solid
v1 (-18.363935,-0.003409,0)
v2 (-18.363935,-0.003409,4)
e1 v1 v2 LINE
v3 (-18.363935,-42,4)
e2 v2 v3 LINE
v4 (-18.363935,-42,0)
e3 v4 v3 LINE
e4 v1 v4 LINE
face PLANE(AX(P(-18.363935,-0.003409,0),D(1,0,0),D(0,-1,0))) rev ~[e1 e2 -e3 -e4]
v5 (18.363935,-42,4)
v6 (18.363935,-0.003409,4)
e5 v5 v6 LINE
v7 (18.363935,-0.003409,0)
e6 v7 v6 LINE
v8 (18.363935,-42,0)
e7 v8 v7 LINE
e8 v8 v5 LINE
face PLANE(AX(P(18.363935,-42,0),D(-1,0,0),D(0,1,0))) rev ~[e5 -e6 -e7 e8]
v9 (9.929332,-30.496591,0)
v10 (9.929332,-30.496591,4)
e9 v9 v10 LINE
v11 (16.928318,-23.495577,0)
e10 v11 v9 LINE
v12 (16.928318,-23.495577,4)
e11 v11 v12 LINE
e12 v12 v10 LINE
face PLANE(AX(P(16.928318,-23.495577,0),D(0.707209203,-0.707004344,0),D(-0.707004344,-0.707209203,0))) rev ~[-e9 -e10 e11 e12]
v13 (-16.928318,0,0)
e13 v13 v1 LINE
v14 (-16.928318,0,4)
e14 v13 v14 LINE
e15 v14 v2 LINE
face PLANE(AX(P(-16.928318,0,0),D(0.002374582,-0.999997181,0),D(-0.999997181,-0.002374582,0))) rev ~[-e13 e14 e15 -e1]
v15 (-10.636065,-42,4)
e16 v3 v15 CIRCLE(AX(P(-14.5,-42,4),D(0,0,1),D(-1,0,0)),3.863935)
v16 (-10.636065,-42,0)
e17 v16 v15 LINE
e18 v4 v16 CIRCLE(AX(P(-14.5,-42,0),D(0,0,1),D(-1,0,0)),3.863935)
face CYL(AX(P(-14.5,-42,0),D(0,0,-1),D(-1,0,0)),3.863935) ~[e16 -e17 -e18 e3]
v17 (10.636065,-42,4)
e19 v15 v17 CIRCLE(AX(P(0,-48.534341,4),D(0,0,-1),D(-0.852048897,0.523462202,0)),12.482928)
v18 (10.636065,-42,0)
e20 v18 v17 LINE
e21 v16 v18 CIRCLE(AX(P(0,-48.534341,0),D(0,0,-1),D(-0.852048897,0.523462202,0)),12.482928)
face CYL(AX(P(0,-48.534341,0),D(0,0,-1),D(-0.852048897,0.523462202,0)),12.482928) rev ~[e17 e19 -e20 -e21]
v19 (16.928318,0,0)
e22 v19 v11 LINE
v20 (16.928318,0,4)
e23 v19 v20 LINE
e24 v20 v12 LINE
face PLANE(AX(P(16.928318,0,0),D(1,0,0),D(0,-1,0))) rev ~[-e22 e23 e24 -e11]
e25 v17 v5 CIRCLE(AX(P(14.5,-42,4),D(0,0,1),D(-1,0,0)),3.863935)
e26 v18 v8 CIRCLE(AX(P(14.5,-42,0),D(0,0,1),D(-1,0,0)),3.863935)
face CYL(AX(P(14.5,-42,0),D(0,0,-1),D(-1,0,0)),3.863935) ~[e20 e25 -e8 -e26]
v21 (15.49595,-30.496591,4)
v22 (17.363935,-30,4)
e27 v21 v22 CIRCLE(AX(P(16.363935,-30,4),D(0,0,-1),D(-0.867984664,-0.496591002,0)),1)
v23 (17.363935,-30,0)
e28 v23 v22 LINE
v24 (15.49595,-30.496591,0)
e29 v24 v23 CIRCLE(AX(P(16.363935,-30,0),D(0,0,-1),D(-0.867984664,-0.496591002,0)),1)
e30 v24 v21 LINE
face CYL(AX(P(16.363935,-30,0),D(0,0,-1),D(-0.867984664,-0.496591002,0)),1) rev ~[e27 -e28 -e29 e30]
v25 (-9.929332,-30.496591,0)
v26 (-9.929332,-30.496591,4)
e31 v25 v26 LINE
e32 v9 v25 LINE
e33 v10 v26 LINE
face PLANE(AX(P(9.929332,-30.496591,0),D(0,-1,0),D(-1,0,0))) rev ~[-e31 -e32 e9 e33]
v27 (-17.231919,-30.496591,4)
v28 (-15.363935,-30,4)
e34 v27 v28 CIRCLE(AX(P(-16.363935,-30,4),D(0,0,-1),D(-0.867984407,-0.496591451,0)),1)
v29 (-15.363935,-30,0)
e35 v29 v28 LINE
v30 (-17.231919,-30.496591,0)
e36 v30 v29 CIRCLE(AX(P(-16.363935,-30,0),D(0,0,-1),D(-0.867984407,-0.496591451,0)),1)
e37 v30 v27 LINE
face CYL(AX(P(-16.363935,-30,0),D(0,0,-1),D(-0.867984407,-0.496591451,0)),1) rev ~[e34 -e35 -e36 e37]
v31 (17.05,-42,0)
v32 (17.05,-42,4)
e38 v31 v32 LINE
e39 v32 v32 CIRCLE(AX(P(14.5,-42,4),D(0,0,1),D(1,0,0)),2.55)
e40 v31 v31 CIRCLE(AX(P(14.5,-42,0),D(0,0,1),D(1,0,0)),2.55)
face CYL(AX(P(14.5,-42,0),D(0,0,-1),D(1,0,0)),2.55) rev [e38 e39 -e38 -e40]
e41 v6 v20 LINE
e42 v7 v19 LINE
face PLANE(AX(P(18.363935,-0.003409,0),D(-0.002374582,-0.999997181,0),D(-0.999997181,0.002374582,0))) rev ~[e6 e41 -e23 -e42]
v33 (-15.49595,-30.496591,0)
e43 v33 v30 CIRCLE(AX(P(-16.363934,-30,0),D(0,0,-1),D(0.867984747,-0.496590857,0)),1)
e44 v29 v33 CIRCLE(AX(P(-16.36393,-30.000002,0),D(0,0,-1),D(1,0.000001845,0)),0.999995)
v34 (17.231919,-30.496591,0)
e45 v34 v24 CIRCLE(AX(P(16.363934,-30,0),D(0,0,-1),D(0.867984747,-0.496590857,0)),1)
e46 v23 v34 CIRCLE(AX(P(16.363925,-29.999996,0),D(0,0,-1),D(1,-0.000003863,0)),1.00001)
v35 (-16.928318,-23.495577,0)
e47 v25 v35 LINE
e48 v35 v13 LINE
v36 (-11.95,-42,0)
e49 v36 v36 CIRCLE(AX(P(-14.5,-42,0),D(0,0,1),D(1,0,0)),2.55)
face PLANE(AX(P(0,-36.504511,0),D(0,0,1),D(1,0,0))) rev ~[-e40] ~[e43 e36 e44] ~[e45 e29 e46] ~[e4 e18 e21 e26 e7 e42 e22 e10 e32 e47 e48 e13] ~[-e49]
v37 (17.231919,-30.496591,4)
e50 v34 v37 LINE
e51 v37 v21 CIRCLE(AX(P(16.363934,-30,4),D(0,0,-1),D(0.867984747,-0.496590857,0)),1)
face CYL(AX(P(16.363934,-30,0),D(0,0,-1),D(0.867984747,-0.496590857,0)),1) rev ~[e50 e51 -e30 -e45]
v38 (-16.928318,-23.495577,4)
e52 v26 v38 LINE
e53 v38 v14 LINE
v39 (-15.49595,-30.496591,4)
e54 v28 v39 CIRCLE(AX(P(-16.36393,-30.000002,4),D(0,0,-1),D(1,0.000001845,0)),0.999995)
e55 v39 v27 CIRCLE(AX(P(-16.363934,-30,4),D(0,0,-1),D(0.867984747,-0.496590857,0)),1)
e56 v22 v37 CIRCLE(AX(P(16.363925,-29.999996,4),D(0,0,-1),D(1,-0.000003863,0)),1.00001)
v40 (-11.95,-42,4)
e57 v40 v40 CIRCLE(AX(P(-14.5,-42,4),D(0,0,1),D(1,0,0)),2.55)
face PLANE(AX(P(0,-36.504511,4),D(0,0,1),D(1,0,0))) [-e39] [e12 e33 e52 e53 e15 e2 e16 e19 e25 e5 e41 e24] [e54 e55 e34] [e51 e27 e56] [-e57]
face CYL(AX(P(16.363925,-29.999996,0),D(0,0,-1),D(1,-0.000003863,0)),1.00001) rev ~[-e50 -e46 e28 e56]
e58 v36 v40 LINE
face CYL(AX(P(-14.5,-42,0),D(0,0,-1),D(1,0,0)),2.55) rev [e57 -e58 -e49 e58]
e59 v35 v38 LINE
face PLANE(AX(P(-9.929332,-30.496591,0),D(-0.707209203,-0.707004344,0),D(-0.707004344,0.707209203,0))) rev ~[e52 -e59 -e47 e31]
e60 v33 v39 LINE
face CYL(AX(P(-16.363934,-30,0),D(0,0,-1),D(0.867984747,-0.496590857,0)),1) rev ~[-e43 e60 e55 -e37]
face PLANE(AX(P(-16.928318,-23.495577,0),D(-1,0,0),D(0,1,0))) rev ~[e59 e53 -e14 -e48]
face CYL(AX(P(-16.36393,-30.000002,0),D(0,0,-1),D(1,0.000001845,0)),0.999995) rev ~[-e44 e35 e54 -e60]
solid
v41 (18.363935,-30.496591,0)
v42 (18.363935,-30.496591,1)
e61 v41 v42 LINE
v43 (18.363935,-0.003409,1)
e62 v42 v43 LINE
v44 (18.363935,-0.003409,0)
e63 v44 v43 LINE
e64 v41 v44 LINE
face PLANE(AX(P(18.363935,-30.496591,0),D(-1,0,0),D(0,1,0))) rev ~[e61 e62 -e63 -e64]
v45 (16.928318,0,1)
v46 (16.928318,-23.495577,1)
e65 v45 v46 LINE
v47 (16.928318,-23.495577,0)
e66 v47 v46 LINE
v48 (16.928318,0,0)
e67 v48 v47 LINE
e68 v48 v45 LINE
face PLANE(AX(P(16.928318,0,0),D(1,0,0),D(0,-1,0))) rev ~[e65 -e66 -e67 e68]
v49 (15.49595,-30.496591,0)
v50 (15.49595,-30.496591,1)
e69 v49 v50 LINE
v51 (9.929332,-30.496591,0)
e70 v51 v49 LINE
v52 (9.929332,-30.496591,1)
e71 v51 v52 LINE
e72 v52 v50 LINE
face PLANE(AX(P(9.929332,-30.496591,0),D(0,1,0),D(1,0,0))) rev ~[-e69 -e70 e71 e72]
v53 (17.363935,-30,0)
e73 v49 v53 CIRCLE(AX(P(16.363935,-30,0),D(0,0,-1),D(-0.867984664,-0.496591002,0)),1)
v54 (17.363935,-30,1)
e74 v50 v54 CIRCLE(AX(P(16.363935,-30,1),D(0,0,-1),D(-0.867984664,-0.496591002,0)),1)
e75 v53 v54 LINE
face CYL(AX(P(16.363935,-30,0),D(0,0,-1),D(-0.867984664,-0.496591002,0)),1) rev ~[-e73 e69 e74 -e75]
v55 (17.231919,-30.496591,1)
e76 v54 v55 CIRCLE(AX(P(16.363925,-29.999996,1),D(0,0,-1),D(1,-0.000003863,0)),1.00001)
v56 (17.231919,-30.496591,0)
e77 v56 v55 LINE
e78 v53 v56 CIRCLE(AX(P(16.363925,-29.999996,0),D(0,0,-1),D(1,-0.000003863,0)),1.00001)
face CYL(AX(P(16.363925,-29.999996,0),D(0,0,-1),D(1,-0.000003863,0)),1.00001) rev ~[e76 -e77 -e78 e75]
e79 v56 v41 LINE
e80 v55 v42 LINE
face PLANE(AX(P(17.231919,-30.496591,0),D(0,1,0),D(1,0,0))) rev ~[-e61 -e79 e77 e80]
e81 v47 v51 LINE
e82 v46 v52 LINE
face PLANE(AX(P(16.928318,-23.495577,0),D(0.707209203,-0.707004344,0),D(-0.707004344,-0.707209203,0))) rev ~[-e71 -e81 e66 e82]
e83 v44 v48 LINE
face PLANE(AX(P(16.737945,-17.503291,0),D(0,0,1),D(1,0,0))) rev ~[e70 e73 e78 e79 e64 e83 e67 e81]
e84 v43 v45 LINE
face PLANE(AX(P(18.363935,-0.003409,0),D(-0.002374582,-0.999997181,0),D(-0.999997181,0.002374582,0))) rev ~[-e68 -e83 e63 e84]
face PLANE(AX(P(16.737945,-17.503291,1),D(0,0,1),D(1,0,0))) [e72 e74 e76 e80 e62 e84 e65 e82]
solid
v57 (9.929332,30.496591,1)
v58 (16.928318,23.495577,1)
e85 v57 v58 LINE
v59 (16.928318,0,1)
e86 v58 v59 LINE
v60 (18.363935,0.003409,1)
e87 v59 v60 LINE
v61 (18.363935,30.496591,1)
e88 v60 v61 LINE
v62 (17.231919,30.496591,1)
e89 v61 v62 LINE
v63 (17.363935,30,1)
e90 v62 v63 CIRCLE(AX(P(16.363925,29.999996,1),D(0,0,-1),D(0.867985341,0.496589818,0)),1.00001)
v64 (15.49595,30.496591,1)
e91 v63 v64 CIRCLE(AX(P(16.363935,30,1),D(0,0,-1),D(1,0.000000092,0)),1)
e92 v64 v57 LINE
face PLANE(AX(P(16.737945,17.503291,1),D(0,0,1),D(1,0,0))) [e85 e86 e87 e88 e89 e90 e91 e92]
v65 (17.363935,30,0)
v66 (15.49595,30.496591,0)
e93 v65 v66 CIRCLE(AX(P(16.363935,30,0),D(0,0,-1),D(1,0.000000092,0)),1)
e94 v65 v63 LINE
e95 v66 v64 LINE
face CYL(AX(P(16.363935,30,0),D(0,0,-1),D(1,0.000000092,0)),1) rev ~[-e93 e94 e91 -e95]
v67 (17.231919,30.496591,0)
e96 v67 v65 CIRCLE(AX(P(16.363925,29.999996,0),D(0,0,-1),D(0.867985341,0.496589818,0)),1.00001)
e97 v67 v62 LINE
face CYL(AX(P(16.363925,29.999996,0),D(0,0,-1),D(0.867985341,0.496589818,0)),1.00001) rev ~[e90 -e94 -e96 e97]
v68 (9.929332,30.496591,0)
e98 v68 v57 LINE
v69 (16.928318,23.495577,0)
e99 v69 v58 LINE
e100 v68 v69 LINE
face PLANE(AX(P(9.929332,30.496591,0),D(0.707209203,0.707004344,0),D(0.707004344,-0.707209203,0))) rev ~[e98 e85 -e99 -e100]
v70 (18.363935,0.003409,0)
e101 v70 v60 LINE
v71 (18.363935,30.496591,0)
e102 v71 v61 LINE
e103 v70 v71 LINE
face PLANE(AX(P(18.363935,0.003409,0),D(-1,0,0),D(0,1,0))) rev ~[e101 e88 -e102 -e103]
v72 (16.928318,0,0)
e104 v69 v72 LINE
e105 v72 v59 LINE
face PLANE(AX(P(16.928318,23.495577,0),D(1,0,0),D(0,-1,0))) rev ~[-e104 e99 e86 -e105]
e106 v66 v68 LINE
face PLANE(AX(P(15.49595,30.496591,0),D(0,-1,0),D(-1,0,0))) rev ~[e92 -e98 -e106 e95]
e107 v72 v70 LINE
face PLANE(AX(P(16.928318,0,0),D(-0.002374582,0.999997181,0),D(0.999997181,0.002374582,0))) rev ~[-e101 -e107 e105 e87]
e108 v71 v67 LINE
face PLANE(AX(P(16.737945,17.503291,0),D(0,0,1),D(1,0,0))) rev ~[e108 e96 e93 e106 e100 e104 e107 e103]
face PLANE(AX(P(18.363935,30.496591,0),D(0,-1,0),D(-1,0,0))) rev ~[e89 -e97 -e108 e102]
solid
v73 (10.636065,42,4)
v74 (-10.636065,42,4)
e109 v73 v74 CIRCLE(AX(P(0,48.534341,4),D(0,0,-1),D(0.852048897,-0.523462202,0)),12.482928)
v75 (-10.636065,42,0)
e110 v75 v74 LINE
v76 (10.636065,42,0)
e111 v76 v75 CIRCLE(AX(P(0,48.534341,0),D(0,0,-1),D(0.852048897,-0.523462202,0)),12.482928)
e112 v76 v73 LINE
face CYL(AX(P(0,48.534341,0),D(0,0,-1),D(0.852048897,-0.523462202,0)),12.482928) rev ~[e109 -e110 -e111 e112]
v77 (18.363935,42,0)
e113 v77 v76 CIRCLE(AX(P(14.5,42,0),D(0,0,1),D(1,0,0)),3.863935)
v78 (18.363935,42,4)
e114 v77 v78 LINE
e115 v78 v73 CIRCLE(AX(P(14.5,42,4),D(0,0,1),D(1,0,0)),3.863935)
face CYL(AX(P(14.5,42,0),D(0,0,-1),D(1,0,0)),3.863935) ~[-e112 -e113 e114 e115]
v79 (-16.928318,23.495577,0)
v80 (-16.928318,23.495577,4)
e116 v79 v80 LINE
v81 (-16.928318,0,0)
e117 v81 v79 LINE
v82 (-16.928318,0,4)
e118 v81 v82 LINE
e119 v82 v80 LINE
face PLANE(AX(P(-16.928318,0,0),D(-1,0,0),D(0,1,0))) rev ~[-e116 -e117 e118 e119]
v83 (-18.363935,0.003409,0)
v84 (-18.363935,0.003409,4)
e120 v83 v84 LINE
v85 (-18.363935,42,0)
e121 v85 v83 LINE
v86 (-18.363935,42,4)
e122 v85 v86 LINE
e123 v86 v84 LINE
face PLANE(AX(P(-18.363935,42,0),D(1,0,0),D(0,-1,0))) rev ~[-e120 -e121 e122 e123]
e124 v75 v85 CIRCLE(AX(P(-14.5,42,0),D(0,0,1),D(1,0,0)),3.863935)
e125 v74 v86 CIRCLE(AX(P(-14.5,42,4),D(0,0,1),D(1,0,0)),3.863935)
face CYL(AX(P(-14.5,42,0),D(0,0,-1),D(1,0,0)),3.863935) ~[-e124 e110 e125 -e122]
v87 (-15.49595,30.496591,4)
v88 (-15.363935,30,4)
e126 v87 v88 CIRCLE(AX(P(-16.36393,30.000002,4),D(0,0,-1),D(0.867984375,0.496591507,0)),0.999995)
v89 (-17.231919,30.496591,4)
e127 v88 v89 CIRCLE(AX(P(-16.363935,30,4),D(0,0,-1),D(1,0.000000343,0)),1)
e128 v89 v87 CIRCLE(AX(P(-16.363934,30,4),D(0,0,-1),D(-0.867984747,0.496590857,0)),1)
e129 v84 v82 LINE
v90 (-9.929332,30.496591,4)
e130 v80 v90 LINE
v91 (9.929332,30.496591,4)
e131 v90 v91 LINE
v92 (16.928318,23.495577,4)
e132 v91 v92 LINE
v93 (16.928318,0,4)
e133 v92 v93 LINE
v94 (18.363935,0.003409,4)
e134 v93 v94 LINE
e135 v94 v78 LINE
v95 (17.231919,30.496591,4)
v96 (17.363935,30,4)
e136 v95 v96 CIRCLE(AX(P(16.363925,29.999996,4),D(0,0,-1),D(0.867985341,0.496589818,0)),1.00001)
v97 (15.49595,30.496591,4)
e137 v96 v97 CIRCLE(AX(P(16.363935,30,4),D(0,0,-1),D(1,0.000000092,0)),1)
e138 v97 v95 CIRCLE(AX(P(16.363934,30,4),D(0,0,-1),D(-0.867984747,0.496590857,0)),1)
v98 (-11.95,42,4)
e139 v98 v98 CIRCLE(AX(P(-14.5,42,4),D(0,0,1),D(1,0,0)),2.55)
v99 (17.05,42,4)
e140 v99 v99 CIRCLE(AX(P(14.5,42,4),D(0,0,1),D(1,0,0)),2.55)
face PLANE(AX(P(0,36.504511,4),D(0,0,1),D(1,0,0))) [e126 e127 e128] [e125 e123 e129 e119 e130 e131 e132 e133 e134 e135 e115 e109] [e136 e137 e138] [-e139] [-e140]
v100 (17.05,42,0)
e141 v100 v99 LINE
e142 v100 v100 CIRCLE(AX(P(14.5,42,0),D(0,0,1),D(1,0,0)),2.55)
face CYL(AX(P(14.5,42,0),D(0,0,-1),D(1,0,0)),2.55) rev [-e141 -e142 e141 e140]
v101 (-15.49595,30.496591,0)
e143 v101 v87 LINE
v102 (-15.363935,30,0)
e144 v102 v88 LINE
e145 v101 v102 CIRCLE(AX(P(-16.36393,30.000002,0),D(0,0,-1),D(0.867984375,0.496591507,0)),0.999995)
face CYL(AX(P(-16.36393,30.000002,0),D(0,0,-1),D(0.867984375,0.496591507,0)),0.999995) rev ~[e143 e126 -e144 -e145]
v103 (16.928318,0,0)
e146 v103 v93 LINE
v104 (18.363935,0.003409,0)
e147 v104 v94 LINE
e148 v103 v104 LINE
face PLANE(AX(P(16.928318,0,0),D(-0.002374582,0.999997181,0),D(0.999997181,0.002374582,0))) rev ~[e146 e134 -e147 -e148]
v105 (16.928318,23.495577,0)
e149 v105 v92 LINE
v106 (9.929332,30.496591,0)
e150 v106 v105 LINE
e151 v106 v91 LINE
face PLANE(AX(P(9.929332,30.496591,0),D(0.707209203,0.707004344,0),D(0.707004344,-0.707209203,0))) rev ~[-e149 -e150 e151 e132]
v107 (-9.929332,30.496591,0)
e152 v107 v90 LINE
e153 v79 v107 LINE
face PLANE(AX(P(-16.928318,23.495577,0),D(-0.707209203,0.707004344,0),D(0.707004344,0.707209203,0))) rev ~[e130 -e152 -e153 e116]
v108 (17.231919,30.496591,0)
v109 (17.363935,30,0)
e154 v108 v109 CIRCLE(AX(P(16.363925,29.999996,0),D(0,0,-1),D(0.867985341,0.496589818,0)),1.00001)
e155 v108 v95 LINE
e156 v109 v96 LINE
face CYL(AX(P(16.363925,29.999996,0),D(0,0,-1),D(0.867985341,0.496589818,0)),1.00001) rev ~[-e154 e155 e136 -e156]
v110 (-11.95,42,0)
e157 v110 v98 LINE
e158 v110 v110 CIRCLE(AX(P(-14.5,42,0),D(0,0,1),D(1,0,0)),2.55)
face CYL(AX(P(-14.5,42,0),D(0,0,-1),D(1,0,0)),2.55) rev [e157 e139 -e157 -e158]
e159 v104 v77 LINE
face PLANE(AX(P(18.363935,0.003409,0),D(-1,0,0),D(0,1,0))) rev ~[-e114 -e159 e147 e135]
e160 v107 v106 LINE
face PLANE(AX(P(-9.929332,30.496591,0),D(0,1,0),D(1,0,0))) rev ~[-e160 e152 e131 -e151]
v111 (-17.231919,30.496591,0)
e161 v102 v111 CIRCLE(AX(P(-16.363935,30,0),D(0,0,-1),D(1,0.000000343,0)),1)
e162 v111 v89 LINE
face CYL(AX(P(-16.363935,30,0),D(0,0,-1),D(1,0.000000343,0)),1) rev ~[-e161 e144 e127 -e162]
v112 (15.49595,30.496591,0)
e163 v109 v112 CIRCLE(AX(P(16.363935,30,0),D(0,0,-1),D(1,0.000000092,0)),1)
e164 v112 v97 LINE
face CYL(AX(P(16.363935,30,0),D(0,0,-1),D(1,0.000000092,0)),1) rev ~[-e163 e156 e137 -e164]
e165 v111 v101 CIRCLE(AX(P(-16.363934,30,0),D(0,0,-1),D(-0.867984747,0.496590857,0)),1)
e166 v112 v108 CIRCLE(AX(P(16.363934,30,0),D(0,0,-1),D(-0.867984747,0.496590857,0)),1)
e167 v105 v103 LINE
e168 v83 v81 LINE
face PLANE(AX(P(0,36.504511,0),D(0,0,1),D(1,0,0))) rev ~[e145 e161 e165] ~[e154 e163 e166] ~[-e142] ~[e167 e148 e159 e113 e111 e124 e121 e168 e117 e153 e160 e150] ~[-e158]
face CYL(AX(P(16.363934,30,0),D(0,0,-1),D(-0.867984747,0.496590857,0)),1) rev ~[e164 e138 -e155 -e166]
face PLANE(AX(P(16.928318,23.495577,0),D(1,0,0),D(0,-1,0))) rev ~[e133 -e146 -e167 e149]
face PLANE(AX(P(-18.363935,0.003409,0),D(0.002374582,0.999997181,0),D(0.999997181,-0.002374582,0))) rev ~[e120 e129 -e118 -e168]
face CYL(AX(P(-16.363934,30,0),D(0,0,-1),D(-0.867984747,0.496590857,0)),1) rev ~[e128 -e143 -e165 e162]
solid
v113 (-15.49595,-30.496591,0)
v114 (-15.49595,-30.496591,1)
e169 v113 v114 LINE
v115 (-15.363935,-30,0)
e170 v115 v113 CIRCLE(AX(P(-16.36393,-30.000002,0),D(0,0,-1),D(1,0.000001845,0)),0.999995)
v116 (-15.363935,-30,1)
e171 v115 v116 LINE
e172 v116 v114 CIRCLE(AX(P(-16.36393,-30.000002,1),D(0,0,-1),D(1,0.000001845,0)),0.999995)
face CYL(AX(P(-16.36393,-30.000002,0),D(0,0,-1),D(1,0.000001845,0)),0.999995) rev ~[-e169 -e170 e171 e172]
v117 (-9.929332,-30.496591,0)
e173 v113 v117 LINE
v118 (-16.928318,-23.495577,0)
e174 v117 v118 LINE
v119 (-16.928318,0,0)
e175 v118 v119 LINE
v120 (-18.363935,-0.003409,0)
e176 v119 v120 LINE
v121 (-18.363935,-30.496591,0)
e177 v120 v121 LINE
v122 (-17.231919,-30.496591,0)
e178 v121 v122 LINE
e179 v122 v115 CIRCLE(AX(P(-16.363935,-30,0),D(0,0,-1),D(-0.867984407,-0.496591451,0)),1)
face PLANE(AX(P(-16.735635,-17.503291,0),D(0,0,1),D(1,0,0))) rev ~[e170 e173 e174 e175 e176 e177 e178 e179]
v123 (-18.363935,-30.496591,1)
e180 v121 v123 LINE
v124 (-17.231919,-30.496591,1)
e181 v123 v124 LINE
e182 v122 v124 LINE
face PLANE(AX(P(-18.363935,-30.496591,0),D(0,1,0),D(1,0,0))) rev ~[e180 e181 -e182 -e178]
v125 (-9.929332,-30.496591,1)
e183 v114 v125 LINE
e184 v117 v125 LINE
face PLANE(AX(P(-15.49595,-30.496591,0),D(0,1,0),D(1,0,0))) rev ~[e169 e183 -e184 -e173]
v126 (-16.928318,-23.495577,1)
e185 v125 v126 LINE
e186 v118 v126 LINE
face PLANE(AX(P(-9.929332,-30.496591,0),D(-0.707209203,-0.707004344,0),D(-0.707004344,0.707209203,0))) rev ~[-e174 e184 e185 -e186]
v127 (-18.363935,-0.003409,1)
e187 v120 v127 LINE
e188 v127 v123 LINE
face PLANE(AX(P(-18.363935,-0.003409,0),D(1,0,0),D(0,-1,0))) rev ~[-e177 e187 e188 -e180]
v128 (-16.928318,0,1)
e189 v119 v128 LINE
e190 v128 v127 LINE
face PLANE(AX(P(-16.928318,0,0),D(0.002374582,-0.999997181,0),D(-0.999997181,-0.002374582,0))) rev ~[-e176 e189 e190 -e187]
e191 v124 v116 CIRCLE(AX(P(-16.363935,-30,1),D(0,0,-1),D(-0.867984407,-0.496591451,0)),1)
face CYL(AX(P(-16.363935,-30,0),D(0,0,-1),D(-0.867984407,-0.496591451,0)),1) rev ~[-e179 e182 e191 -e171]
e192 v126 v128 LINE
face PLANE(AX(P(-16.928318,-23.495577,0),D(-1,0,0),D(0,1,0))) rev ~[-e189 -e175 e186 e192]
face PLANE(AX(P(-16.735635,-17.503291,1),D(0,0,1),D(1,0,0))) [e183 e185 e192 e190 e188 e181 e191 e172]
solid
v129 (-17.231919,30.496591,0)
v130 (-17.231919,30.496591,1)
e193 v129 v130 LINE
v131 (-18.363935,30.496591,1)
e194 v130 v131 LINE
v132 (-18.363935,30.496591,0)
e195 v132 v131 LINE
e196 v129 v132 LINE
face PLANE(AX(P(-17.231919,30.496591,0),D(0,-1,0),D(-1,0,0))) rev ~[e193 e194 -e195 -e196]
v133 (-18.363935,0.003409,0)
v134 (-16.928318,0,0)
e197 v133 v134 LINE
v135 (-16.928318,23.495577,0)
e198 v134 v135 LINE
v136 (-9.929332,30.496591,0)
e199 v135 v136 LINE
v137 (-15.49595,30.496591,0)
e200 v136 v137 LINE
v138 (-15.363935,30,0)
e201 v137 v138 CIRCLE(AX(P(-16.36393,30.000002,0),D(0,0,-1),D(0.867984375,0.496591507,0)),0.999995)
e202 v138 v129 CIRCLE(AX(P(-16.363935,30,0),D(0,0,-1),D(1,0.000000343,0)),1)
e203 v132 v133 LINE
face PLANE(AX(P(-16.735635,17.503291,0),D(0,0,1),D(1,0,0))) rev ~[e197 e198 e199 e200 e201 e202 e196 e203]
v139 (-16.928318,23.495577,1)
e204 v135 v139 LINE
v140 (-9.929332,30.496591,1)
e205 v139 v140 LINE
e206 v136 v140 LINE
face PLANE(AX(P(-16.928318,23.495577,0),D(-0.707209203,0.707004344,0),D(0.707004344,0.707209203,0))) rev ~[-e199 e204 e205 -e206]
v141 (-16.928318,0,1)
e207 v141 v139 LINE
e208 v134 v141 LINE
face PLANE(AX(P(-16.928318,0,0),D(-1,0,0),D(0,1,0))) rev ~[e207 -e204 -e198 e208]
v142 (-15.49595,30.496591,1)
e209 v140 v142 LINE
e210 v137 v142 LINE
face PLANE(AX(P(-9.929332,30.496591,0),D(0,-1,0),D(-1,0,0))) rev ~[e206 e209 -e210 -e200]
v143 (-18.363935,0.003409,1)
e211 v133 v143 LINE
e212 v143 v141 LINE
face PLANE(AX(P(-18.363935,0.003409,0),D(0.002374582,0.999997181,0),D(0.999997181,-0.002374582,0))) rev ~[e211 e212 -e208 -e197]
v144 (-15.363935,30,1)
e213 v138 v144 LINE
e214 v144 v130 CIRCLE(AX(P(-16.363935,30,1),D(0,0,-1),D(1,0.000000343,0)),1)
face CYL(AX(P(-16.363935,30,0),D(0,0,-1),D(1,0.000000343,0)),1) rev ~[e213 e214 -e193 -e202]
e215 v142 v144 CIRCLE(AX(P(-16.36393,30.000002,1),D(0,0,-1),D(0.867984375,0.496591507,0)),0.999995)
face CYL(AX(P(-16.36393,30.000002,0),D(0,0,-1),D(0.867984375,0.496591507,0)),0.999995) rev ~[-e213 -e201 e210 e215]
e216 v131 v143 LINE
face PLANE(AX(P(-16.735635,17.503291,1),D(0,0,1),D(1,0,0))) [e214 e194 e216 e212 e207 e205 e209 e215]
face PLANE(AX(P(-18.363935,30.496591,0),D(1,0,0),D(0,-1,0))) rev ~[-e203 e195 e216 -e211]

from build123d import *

# Parameters (mm, degrees)
F1_DEPTH = 1
F0_R     = 2.55
F2_DEPTH = 4


with BuildPart() as f1:
    # F0 (on Top) → F1 (new body)
    with BuildSketch(Plane.XY):
        with BuildLine():
            Line((-16.928318, 23.495577), (-9.929332, 30.496591))
            Line((-9.929332, 30.496591), (-15.49595, 30.496591))
            ThreePointArc((-15.49595, 30.496591), (-15.397502, 30.25692), (-15.363935, 30))
            ThreePointArc((-15.363935, 30), (-16.620854, 29.033567), (-17.231919, 30.496591))
            Line((-17.231919, 30.496591), (-18.363935, 30.496591))
            Line((-18.363935, 30.496591), (-18.363935, 0.003409))
            Line((-18.363935, 0.003409), (-16.928318, 0))
            Line((-16.928318, 0), (-16.928318, 23.495577))
        make_face()
        with BuildLine():
            Line((-16.928318, -23.495577), (-16.928318, 0))
            Line((-16.928318, 0), (-18.363935, -0.003409))
            Line((-18.363935, -0.003409), (-18.363935, -30.496591))
            Line((-18.363935, -30.496591), (-17.231919, -30.496591))
            ThreePointArc((-17.231919, -30.496591), (-16.620854, -29.033567), (-15.363935, -30))
            ThreePointArc((-15.363935, -30), (-15.397502, -30.25692), (-15.49595, -30.496591))
            Line((-15.49595, -30.496591), (-9.929332, -30.496591))
            Line((-9.929332, -30.496591), (-16.928318, -23.495577))
        make_face()
        with BuildLine():
            Line((15.49595, 30.496591), (9.929332, 30.496591))
            Line((9.929332, 30.496591), (16.928318, 23.495577))
            Line((16.928318, 23.495577), (16.928318, 0))
            Line((16.928318, 0), (18.363935, 0.003409))
            Line((18.363935, 0.003409), (18.363935, 30.496591))
            Line((18.363935, 30.496591), (17.231919, 30.496591))
            ThreePointArc((17.231919, 30.496591), (17.330367, 30.25692), (17.363935, 30))
            ThreePointArc((17.363935, 30), (16.107015, 29.033567), (15.49595, 30.496591))
        make_face()
        with BuildLine():
            Line((18.363935, -0.003409), (16.928318, 0))
            Line((16.928318, 0), (16.928318, -23.495577))
            Line((16.928318, -23.495577), (9.929332, -30.496591))
            Line((9.929332, -30.496591), (15.49595, -30.496591))
            ThreePointArc((15.49595, -30.496591), (16.107015, -29.033567), (17.363935, -30))
            ThreePointArc((17.363935, -30), (17.330367, -30.25692), (17.231919, -30.496591))
            Line((17.231919, -30.496591), (18.363935, -30.496591))
            Line((18.363935, -30.496591), (18.363935, -0.003409))
        make_face()
    extrude(amount=F1_DEPTH)


with BuildPart() as f2:
    # F0 (on Top) → F2 (new body)
    with BuildSketch(Plane.XY):
        with BuildLine():
            Line((0, 30.496591), (9.929332, 30.496591))
            Line((9.929332, 30.496591), (15.49595, 30.496591))
            ThreePointArc((15.49595, 30.496591), (16.363935, 31), (17.231919, 30.496591))
            Line((17.231919, 30.496591), (18.363935, 30.496591))
            Line((18.363935, 30.496591), (18.363935, 42))
            ThreePointArc((18.363935, 42), (14.5, 45.863935), (10.636065, 42))
            ThreePointArc((10.636065, 42), (0, 36.051413), (-10.636065, 42))
            ThreePointArc((-10.636065, 42), (-14.5, 45.863935), (-18.363935, 42))
            Line((-18.363935, 42), (-18.363935, 30.496591))
            Line((-18.363935, 30.496591), (-17.231919, 30.496591))
            ThreePointArc((-17.231919, 30.496591), (-16.363935, 31), (-15.49595, 30.496591))
            Line((-15.49595, 30.496591), (-9.929332, 30.496591))
            Line((-9.929332, 30.496591), (0, 30.496591))
        make_face()
        with Locations((-14.5, 42)):
            Circle(F0_R, mode=Mode.SUBTRACT)
        with Locations((14.5, 42)):
            Circle(F0_R, mode=Mode.SUBTRACT)
        with BuildLine():
            Line((18.363935, -42), (18.363935, -30.496591))
            Line((18.363935, -30.496591), (17.231919, -30.496591))
            ThreePointArc((17.231919, -30.496591), (16.363935, -31), (15.49595, -30.496591))
            Line((15.49595, -30.496591), (9.929332, -30.496591))
            Line((9.929332, -30.496591), (0, -30.496591))
            Line((0, -30.496591), (-9.929332, -30.496591))
            Line((-9.929332, -30.496591), (-15.49595, -30.496591))
            ThreePointArc((-15.49595, -30.496591), (-16.363935, -31), (-17.231919, -30.496591))
            Line((-17.231919, -30.496591), (-18.363935, -30.496591))
            Line((-18.363935, -30.496591), (-18.363935, -42))
            ThreePointArc((-18.363935, -42), (-14.5, -45.863935), (-10.636065, -42))
            ThreePointArc((-10.636065, -42), (0, -36.051413), (10.636065, -42))
            ThreePointArc((10.636065, -42), (14.5, -45.863935), (18.363935, -42))
        make_face()
        with Locations((-14.5, -42)):
            Circle(F0_R, mode=Mode.SUBTRACT)
        with Locations((14.5, -42)):
            Circle(F0_R, mode=Mode.SUBTRACT)
        with BuildLine():
            Line((15.49595, 30.496591), (9.929332, 30.496591))
            Line((9.929332, 30.496591), (16.928318, 23.495577))
            Line((16.928318, 23.495577), (16.928318, 0))
            Line((16.928318, 0), (18.363935, 0.003409))
            Line((18.363935, 0.003409), (18.363935, 30.496591))
            Line((18.363935, 30.496591), (17.231919, 30.496591))
            ThreePointArc((17.231919, 30.496591), (17.330367, 30.25692), (17.363935, 30))
            ThreePointArc((17.363935, 30), (16.107015, 29.033567), (15.49595, 30.496591))
        make_face()
        with BuildLine():
            Line((-16.928318, 23.495577), (-9.929332, 30.496591))
            Line((-9.929332, 30.496591), (-15.49595, 30.496591))
            ThreePointArc((-15.49595, 30.496591), (-15.397502, 30.25692), (-15.363935, 30))
            ThreePointArc((-15.363935, 30), (-16.620854, 29.033567), (-17.231919, 30.496591))
            Line((-17.231919, 30.496591), (-18.363935, 30.496591))
            Line((-18.363935, 30.496591), (-18.363935, 0.003409))
            Line((-18.363935, 0.003409), (-16.928318, 0))
            Line((-16.928318, 0), (-16.928318, 23.495577))
        make_face()
        with BuildLine():
            Line((18.363935, -0.003409), (16.928318, 0))
            Line((16.928318, 0), (16.928318, -23.495577))
            Line((16.928318, -23.495577), (9.929332, -30.496591))
            Line((9.929332, -30.496591), (15.49595, -30.496591))
            ThreePointArc((15.49595, -30.496591), (16.107015, -29.033567), (17.363935, -30))
            ThreePointArc((17.363935, -30), (17.330367, -30.25692), (17.231919, -30.496591))
            Line((17.231919, -30.496591), (18.363935, -30.496591))
            Line((18.363935, -30.496591), (18.363935, -0.003409))
        make_face()
        with BuildLine():
            Line((-16.928318, -23.495577), (-16.928318, 0))
            Line((-16.928318, 0), (-18.363935, -0.003409))
            Line((-18.363935, -0.003409), (-18.363935, -30.496591))
            Line((-18.363935, -30.496591), (-17.231919, -30.496591))
            ThreePointArc((-17.231919, -30.496591), (-16.620854, -29.033567), (-15.363935, -30))
            ThreePointArc((-15.363935, -30), (-15.397502, -30.25692), (-15.49595, -30.496591))
            Line((-15.49595, -30.496591), (-9.929332, -30.496591))
            Line((-9.929332, -30.496591), (-16.928318, -23.495577))
        make_face()
    extrude(amount=F2_DEPTH)


solid = Compound([f1.part, f2.part])
